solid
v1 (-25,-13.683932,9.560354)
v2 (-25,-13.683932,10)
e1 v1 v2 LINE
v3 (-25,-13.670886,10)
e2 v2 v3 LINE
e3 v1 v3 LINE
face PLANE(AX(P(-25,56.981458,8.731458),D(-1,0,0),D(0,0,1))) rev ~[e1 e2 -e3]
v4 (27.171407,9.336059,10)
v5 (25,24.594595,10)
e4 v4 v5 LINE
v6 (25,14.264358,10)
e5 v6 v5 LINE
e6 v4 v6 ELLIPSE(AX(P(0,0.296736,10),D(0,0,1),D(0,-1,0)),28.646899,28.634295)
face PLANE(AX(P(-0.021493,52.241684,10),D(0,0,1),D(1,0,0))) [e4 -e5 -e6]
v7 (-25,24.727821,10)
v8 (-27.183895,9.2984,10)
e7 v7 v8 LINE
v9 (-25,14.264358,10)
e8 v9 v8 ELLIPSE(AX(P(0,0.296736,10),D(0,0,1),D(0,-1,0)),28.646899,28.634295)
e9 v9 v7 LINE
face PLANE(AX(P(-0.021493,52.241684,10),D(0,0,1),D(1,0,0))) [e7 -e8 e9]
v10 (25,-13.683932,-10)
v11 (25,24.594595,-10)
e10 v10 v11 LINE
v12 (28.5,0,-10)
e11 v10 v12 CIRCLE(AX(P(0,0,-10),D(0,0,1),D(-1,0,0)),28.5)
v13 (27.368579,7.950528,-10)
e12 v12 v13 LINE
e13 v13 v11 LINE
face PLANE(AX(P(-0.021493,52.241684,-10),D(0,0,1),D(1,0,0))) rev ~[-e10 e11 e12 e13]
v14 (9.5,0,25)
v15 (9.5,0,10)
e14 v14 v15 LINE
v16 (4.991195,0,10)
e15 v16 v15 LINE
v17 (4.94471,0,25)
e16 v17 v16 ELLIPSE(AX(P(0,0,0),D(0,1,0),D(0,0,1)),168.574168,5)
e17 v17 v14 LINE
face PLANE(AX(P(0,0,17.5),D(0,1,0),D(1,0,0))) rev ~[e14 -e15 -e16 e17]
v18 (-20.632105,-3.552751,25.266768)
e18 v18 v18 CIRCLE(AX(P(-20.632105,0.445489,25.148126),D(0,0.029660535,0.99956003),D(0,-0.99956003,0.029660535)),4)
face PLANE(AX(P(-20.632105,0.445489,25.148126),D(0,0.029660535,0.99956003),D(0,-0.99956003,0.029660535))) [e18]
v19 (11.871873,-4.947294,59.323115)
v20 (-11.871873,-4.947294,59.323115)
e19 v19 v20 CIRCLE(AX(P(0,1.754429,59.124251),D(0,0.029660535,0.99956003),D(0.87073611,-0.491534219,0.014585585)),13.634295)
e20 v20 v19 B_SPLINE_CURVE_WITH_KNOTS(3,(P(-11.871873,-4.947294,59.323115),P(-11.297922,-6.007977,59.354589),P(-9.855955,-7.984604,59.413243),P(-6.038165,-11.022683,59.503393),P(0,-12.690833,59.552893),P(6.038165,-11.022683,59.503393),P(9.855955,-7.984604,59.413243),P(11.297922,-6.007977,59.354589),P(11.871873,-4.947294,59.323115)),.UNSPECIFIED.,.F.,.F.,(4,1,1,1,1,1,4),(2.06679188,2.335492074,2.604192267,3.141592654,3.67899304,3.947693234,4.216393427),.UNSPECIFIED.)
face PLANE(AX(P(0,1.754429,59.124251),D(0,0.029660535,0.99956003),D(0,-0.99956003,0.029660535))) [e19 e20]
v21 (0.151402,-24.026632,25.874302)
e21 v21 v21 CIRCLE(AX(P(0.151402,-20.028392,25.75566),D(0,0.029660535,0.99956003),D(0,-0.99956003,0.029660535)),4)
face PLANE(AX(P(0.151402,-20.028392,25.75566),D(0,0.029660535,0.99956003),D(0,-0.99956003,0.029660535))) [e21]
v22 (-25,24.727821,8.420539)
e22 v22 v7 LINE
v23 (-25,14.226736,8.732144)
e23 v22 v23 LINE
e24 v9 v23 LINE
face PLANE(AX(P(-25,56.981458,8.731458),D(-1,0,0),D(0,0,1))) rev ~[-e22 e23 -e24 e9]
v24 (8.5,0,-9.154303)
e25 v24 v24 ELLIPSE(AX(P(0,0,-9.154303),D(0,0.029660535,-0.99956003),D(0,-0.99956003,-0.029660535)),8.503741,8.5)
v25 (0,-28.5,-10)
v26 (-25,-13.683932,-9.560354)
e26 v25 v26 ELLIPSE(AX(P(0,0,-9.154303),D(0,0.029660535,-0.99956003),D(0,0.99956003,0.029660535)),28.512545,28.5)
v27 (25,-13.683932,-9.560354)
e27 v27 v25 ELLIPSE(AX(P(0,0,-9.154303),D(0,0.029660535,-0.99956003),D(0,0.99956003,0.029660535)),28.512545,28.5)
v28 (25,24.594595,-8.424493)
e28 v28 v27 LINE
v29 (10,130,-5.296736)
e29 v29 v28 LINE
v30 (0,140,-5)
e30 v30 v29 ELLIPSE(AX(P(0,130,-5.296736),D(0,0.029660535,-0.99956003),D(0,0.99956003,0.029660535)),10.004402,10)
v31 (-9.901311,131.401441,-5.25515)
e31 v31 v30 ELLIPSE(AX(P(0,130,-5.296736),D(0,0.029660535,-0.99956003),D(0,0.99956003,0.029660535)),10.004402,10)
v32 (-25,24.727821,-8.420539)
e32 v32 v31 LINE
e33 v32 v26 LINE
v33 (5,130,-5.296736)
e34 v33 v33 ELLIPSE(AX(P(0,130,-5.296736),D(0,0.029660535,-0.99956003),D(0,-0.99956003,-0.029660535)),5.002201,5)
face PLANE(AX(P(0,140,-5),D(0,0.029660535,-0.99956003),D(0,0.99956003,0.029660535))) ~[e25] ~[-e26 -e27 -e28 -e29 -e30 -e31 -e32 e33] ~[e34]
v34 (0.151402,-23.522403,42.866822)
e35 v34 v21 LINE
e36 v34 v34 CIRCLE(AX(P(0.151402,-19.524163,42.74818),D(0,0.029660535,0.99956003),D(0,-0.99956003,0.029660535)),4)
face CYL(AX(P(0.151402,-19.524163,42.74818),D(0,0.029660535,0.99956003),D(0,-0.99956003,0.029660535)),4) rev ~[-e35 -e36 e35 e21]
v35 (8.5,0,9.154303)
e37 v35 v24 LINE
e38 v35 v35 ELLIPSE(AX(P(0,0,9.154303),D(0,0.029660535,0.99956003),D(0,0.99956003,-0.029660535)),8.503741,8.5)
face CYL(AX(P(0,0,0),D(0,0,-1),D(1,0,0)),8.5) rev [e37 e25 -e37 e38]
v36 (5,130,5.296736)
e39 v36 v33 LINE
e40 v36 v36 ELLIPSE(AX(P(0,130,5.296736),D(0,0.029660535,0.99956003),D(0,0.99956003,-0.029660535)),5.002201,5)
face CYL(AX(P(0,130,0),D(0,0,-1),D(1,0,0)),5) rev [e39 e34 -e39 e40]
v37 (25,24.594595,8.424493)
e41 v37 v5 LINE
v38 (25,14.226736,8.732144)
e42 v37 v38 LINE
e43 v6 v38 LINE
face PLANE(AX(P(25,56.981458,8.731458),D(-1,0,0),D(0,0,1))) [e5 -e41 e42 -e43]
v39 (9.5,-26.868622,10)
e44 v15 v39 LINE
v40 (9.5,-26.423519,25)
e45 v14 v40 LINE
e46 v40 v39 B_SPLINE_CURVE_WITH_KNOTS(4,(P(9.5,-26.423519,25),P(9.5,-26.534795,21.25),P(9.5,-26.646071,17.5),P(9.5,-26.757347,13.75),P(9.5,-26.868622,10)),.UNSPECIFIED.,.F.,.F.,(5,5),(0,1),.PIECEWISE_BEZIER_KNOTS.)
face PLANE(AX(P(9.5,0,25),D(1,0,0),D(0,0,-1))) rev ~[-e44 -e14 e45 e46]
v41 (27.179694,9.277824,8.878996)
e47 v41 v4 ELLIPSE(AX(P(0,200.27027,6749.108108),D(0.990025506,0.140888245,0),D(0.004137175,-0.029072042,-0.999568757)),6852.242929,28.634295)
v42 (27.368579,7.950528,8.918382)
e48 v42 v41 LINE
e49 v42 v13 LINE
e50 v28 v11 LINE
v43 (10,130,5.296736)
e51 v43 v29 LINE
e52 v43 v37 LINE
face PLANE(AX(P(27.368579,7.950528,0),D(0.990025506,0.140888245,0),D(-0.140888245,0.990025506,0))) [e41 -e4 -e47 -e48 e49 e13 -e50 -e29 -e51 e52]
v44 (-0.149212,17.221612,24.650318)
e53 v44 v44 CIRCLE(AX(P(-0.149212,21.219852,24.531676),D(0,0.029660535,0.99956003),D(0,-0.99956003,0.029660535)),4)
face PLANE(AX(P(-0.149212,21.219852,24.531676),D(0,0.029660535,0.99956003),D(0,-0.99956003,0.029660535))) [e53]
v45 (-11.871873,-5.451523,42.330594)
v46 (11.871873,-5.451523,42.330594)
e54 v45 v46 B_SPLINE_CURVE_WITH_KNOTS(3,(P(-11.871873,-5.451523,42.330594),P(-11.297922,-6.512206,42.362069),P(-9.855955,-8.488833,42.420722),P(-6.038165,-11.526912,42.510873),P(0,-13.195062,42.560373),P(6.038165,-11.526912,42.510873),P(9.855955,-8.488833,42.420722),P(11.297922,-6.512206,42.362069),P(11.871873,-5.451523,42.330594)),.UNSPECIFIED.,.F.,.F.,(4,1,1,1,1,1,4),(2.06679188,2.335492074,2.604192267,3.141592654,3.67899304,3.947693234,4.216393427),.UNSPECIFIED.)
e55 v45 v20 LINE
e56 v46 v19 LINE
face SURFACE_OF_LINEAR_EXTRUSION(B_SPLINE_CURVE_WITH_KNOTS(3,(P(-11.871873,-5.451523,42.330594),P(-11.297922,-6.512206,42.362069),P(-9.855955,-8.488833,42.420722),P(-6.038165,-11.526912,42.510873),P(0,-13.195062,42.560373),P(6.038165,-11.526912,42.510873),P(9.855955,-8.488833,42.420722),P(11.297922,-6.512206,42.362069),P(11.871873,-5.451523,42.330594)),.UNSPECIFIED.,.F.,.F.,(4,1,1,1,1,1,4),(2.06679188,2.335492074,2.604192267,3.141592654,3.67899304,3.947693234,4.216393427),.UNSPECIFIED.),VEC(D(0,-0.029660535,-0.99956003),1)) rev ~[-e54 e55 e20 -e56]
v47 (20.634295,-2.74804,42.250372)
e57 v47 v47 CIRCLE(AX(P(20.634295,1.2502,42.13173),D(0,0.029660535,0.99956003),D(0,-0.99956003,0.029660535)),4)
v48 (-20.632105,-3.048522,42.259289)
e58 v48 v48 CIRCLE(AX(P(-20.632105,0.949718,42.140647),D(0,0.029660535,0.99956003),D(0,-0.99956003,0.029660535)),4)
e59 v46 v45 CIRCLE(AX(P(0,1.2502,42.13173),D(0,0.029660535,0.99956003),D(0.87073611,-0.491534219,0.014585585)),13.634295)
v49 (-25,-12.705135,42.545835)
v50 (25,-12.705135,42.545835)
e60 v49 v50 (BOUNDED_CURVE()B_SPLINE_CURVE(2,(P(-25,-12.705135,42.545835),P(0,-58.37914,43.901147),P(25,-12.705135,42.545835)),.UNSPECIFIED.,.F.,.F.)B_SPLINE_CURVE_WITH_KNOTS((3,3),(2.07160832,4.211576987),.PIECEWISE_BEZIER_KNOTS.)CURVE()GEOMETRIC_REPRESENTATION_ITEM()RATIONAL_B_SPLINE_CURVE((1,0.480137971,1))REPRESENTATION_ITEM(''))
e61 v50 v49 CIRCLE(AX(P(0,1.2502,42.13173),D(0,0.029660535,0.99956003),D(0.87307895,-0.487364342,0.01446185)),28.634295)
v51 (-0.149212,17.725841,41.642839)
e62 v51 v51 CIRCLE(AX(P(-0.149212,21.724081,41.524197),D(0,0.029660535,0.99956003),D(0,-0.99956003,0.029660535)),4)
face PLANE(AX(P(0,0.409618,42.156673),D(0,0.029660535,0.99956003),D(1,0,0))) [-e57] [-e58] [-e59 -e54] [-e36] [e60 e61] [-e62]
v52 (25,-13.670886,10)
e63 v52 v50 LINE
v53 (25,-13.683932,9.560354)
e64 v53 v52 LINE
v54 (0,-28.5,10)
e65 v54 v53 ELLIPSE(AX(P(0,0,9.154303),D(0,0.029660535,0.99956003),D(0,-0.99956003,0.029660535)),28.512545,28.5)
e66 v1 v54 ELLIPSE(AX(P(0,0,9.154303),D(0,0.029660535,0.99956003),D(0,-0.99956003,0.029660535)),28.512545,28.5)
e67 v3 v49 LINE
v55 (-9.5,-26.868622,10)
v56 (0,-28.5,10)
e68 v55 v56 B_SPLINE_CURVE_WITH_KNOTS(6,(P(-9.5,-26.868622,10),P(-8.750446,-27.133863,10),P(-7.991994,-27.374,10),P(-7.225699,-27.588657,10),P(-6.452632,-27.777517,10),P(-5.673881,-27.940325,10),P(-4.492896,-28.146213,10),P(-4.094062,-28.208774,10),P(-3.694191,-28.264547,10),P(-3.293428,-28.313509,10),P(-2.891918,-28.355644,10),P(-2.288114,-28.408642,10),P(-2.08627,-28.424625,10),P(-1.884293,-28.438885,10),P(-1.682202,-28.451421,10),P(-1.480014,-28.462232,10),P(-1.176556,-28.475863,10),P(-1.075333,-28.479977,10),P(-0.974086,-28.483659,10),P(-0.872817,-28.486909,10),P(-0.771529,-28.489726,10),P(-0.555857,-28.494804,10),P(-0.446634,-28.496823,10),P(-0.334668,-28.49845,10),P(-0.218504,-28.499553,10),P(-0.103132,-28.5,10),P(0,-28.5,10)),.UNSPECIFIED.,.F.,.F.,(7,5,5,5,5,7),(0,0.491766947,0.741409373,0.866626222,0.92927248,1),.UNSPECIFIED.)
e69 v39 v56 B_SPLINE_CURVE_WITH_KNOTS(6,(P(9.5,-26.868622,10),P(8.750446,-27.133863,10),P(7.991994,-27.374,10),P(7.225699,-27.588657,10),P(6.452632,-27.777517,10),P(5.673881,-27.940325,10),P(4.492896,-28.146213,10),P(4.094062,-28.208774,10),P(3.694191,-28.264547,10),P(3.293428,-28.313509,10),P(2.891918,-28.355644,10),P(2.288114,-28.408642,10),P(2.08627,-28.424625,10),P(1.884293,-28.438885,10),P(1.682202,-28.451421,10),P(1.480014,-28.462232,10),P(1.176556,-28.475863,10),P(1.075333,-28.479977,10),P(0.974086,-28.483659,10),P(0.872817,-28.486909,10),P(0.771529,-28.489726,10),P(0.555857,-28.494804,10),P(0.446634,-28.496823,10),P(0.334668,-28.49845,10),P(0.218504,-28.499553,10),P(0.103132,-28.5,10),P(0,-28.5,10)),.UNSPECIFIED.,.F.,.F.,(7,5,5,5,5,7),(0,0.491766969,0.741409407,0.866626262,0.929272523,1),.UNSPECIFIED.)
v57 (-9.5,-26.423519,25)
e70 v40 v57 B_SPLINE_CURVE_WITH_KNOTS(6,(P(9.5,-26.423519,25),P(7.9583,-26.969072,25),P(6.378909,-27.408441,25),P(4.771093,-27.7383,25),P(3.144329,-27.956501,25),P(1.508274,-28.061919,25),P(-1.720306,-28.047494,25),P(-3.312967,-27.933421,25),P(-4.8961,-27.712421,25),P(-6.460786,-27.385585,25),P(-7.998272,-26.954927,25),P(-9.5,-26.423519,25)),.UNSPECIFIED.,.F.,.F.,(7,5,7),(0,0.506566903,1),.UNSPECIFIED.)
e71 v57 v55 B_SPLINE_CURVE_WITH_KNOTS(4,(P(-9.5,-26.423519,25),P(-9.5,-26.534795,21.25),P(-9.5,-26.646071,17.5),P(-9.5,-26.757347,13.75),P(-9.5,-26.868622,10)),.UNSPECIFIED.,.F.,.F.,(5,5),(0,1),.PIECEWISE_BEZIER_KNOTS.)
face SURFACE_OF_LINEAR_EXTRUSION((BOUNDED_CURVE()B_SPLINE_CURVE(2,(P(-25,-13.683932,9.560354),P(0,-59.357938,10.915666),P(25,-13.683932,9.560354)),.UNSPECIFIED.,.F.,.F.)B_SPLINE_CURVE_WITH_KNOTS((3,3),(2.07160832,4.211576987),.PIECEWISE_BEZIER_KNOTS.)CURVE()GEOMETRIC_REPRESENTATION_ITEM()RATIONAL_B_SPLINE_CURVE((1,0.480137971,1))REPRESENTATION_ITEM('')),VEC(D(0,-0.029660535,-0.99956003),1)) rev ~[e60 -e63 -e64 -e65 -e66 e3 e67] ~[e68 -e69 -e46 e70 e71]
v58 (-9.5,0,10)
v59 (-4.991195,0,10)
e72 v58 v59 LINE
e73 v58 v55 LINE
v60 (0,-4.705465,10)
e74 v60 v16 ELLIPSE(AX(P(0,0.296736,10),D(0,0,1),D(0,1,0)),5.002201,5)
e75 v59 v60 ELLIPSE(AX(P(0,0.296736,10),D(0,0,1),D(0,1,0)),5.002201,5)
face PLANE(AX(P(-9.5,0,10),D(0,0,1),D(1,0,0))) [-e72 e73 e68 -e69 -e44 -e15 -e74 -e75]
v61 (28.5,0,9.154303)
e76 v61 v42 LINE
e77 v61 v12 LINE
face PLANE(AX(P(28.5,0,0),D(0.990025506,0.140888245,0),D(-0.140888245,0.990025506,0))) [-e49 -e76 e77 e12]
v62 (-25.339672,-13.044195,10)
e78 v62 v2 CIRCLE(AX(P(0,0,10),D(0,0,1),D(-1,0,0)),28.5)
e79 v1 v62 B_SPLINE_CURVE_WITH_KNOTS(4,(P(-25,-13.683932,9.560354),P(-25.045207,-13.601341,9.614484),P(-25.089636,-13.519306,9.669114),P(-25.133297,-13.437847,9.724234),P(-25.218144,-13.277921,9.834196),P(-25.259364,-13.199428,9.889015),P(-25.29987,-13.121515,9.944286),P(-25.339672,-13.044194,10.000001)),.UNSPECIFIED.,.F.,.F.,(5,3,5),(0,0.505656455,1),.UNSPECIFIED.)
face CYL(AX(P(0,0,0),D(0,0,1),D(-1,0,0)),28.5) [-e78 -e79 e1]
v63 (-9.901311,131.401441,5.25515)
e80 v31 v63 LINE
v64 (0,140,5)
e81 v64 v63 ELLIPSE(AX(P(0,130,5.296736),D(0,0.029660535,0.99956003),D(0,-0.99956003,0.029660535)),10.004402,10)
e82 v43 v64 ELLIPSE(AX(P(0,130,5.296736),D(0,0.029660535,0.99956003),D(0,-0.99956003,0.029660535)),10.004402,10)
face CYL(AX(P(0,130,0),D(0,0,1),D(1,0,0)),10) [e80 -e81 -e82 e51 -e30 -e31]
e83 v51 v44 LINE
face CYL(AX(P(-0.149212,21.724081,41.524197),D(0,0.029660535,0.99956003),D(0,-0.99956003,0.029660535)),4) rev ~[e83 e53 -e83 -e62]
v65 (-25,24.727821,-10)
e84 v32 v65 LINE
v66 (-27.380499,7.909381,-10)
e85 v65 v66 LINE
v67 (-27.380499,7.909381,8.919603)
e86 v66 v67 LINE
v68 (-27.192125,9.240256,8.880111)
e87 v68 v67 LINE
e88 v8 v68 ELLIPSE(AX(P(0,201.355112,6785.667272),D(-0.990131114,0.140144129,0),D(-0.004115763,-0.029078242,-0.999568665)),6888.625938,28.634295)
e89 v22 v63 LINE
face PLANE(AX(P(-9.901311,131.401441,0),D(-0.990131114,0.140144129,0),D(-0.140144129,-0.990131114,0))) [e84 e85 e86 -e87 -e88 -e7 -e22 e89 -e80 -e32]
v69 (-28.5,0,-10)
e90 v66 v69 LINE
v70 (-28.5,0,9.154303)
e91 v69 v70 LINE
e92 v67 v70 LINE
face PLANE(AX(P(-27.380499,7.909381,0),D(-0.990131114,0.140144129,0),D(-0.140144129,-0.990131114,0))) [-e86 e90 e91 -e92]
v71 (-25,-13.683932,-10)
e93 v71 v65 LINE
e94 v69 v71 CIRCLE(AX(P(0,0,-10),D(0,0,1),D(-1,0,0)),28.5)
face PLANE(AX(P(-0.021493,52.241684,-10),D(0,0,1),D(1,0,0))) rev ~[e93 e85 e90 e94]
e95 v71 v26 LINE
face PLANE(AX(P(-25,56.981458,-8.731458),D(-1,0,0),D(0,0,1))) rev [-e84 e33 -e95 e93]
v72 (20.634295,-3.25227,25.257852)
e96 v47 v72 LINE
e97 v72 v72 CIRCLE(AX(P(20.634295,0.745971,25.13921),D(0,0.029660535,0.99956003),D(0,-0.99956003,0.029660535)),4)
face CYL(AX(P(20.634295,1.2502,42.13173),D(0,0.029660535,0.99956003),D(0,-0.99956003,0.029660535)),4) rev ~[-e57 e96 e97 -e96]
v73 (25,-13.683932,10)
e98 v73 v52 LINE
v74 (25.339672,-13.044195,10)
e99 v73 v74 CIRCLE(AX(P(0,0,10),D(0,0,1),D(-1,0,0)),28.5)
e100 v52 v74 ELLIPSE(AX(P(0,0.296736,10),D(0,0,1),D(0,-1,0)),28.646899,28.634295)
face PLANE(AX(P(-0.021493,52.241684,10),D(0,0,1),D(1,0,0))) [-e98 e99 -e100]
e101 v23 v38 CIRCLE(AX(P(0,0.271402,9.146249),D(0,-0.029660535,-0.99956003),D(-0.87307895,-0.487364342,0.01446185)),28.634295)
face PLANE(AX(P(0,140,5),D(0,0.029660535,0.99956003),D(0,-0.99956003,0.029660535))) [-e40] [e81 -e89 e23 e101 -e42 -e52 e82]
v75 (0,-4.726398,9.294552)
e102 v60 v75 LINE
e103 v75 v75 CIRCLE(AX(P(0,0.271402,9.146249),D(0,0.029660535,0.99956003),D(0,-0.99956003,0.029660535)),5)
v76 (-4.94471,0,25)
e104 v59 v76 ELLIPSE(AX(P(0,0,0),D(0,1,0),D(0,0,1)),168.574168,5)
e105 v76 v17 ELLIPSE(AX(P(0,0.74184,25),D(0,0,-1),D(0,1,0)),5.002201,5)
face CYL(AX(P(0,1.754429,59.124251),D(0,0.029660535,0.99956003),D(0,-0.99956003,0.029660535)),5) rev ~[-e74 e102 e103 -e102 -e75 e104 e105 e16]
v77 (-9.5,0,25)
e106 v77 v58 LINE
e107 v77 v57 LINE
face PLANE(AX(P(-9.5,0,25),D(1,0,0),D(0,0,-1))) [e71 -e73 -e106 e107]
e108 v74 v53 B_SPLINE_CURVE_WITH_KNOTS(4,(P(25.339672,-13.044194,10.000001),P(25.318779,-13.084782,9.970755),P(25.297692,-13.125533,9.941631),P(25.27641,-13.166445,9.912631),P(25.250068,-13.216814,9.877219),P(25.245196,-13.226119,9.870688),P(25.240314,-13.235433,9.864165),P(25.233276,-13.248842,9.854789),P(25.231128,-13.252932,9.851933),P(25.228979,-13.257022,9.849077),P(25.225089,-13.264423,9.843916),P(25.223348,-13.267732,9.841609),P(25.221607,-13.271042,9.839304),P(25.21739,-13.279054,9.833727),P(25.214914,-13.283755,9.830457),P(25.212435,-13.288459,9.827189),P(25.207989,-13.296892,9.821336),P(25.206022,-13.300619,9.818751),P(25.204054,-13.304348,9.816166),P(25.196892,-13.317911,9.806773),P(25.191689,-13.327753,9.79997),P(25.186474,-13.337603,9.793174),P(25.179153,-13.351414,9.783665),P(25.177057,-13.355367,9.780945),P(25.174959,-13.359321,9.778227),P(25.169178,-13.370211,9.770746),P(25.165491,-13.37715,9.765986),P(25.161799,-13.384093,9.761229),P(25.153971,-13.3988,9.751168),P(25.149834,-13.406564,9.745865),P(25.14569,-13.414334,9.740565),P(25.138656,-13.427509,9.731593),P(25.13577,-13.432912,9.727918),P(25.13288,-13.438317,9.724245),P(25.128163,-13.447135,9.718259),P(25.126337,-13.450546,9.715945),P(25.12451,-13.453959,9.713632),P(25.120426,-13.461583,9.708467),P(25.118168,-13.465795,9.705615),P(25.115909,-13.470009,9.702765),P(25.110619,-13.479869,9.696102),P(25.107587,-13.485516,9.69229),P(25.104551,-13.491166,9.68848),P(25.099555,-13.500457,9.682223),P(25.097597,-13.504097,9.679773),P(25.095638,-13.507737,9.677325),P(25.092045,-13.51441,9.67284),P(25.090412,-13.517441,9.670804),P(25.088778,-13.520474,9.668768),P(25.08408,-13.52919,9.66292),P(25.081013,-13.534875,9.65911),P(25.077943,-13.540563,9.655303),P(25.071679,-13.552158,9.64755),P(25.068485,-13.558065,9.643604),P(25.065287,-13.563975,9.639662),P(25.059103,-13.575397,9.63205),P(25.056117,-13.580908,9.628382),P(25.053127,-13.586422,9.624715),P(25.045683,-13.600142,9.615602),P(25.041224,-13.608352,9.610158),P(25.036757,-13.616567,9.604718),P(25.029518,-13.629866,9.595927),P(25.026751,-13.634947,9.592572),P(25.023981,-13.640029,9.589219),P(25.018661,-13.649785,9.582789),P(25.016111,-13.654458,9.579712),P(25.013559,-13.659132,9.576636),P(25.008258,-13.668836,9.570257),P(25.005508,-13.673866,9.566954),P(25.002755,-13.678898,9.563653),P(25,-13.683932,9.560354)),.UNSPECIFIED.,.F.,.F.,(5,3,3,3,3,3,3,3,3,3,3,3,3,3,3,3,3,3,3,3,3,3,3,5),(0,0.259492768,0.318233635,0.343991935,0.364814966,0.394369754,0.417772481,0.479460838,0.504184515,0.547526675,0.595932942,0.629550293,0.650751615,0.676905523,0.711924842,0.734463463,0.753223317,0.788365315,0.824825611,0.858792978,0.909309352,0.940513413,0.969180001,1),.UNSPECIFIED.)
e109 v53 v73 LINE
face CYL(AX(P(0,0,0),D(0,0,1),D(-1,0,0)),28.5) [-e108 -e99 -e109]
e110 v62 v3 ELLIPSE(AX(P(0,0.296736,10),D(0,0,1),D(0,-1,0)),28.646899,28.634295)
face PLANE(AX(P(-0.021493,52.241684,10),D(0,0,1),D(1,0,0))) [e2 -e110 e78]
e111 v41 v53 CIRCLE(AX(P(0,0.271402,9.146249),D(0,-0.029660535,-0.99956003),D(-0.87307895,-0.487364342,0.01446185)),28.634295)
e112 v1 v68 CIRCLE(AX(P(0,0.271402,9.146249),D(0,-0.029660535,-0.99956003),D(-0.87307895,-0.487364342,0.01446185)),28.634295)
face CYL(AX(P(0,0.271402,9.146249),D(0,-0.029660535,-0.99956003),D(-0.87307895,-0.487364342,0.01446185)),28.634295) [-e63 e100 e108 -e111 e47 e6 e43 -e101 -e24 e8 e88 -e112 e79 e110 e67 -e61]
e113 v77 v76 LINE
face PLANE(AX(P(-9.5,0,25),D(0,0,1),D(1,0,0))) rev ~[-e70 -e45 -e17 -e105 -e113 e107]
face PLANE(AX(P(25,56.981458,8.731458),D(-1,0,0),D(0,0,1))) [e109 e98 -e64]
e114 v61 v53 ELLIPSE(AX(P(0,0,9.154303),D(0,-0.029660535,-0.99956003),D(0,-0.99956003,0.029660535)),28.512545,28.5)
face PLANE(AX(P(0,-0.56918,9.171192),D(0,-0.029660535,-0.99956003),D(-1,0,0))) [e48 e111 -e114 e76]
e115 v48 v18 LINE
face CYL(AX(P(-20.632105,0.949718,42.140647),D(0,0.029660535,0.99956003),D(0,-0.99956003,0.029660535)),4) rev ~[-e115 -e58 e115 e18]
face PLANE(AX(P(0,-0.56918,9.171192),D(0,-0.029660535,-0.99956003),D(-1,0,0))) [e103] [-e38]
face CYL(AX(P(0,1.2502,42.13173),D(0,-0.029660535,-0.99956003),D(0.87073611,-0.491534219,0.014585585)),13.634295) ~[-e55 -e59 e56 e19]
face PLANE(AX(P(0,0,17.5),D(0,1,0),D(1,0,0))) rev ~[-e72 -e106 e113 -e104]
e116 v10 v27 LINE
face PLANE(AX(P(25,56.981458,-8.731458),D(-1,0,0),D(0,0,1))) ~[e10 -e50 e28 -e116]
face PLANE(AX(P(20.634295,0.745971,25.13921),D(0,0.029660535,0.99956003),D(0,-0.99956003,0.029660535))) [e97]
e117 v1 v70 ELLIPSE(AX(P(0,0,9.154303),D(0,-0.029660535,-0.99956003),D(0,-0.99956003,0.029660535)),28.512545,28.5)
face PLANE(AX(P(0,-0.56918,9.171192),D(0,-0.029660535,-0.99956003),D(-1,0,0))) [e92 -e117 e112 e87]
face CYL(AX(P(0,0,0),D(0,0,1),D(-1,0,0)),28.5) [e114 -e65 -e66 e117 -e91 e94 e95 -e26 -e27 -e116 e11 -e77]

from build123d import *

# Parameters (mm, degrees)
SKETCH1_R           = 8.5
SKETCH1_R_2         = 5
BOSS_EXTRUDE1_DEPTH = 10
CUT_EXTRUDE1_DEPTH  = 25
BOSS_EXTRUDE2_DEPTH = 50
CUT_EXTRUDE2_REACH  = 159.194
SKETCH4_R           = 5
CUT_EXTRUDE3_REACH  = 156.975
SKETCH5_W           = 19
SKETCH5_H           = 15
CUT_EXTRUDE4_START  = -17
CUT_EXTRUDE4_DEPTH  = 17
SKETCH7_R           = 4
CUT_EXTRUDE5_DEPTH  = 17
BOSS_EXTRUDE3_REACH = 159.194
SKETCH8_R           = 5


with BuildPart() as part:
    # Sketch1 → Boss-Extrude1 (new, symmetric)
    with BuildSketch(Plane.XY):
        with BuildLine():
            ThreePointArc((10, 130), (0.702455902, 139.975297274), (-9.901311141, 131.401441289))
            Line((-9.901311141, 131.401441289), (-27.380498519, 7.90938056))
            Line((-27.380498519, 7.90938056), (-28.5, 0))
            ThreePointArc((-28.5, 0), (0, -28.5), (28.5, 0))
            Line((28.5, 0), (27.368578637, 7.950528498))
            Line((27.368578637, 7.950528498), (10, 130))
        make_face()
        Circle(SKETCH1_R, mode=Mode.SUBTRACT)
        with Locations((0, 130)):
            Circle(SKETCH1_R_2, mode=Mode.SUBTRACT)
    extrude(amount=BOSS_EXTRUDE1_DEPTH, both=True)

    # Sketch2 → Cut-Extrude1 (cut, symmetric)
    with BuildSketch(Plane(origin=(0, 0, 0), x_dir=(0, 0, -1), z_dir=(1, 0, 0))):
        Polygon((-5, 140), (-10, -28.5), (-10, 140), align=None)
    cut_extrude1 = extrude(amount=CUT_EXTRUDE1_DEPTH, both=True, mode=Mode.SUBTRACT)

    # Mirror1: Cut-Extrude1 across plane
    add(cut_extrude1.mirror(Plane.XY), mode=Mode.SUBTRACT)

    # Sketch3 → Boss-Extrude2 (add)
    with BuildSketch(Plane(origin=(0, 0.271402053, 9.146249197), x_dir=(1, 0, 0), z_dir=(0, 0.02966053500132691, 0.9995600295447169))):
        with BuildLine():
            ThreePointArc((-25, -13.961476874), (0, 28.634294762), (25, -13.961476874))
            add(Edge.make_bspline(
                [(-25, -13.961476874), (0, -59.655586885), (25, -13.961476874)],
                knots=[2.07160832, 2.07160832, 2.07160832, 4.211576987, 4.211576987, 4.211576987], degree=2, weights=[1, 0.480137971, 1]))
        make_face()
    extrude(amount=BOSS_EXTRUDE2_DEPTH)

    # Sketch4 → Cut-Extrude2 (cut, up to next)
    with BuildSketch(Plane(origin=(0, 1.754428803, 59.124250674), x_dir=(1, 0, 0), z_dir=(0, 0.029660535001326913, 0.9995600295447169)), mode=Mode.PRIVATE) as cut_extrude2_sk1:
        with Locations(Location((0, 0, 0), (0, 0, 270))):
            Circle(SKETCH4_R)
    cut_extrude2_tool1 = extrude(cut_extrude2_sk1.sketch, amount=-CUT_EXTRUDE2_REACH, mode=Mode.PRIVATE) & part.part
    add(cut_extrude2_tool1.solids().sort_by_distance((0, 1.754429, 59.124251))[0], mode=Mode.SUBTRACT)

    # Sketch5 → Cut-Extrude3 (cut, up to next)
    with BuildSketch(Plane(origin=(0, 0, 0), x_dir=(1, 0, 0), z_dir=(0, 1, 0)), mode=Mode.PRIVATE) as cut_extrude3_sk1:
        with Locations((0, -17.5)):
            Rectangle(SKETCH5_W, SKETCH5_H)
    cut_extrude3_tool1 = extrude(cut_extrude3_sk1.sketch, amount=-CUT_EXTRUDE3_REACH, mode=Mode.PRIVATE) & part.part
    add(cut_extrude3_tool1.solids().sort_by_distance((0, 0, 17.5))[0], mode=Mode.SUBTRACT)

    # Sketch6 → Cut-Extrude4 (cut)
    with BuildSketch(Plane(origin=(0, 1.754428803, 59.124250674), x_dir=(1, 0, 0), z_dir=(0, 0.029660535001326913, 0.9995600295447168)).offset(CUT_EXTRUDE4_START)):
        with BuildLine():
            ThreePointArc((25, -13.961476874), (0, 28.634294762), (-25, -13.961476874))
            add(Edge.make_bspline(
                [(-25, -13.961476874), (0, -59.655586885), (25, -13.961476874)],
                knots=[2.07160832, 2.07160832, 2.07160832, 4.211576987, 4.211576987, 4.211576987], degree=2, weights=[1, 0.480137971, 1]))
        make_face()
        with BuildLine():
            add(Edge.make_bspline(
                [(-11.871872779, -6.70467228), (-11.297921787, -7.765822714), (-9.855955264, -9.743319402), (-6.038165372, -12.782735574), (0, -14.451619937), (6.038165372, -12.782735574), (9.855955264, -9.743319402), (11.297921787, -7.765822714), (11.871872779, -6.70467228)],
                knots=[2.06679188, 2.06679188, 2.06679188, 2.06679188, 2.335492074, 2.604192267, 3.141592654, 3.67899304, 3.947693234, 4.216393427, 4.216393427, 4.216393427, 4.216393427], degree=3))
            ThreePointArc((11.871872779, -6.70467228), (0, 13.634294762), (-11.871872779, -6.70467228))
        make_face(mode=Mode.SUBTRACT)
    extrude(amount=CUT_EXTRUDE4_DEPTH, mode=Mode.SUBTRACT)

    # Sketch7 → Cut-Extrude5 (cut)
    with BuildSketch(Plane(origin=(0, 1.250199708, 42.131730172), x_dir=(1, 0, 0), z_dir=(0, 0.029660535001326933, 0.9995600295447168))):
        with Locations(Location((20.634294762, 0, 0), (0, 0, 270))):
            Circle(SKETCH7_R)
        with Locations(Location((0.15140188, -20.783506756, 0), (0, 0, 270))):
            Circle(SKETCH7_R)
        with Locations(Location((-20.632104876, -0.300613874, 0), (0, 0, 270))):
            Circle(SKETCH7_R)
        with Locations(Location((-0.149211994, 20.482892882, 0), (0, 0, 270))):
            Circle(SKETCH7_R)
    extrude(amount=-CUT_EXTRUDE5_DEPTH, mode=Mode.SUBTRACT)

    # Boss-Extrude3: up to this face of the body (flat: up to its plane)
    boss_extrude3_end = Plane(part.part.faces().sort_by_distance((-1e-09, -14.541060852, 25))[0])
    # Sketch8 → Boss-Extrude3 (add, up to the picked face)
    with BuildSketch(Plane(origin=(0, 1.754428803, 59.124250674), x_dir=(1, 0, 0), z_dir=(0, 0.029660535001326913, 0.9995600295447168)), mode=Mode.PRIVATE) as boss_extrude3_sk1:
        with Locations(Location((0, 0, 0), (0, 0, 270))):
            Circle(SKETCH8_R)
    boss_extrude3_tool1 = split(extrude(boss_extrude3_sk1.sketch, amount=-BOSS_EXTRUDE3_REACH, mode=Mode.PRIVATE), bisect_by=boss_extrude3_end, keep=Keep.BOTH, mode=Mode.PRIVATE)
    add(boss_extrude3_tool1.solids().sort_by(Axis((0, 1.754429, 59.124251), (0, -0.029660535001326913, -0.9995600295447168)))[0])


solid = part.part
